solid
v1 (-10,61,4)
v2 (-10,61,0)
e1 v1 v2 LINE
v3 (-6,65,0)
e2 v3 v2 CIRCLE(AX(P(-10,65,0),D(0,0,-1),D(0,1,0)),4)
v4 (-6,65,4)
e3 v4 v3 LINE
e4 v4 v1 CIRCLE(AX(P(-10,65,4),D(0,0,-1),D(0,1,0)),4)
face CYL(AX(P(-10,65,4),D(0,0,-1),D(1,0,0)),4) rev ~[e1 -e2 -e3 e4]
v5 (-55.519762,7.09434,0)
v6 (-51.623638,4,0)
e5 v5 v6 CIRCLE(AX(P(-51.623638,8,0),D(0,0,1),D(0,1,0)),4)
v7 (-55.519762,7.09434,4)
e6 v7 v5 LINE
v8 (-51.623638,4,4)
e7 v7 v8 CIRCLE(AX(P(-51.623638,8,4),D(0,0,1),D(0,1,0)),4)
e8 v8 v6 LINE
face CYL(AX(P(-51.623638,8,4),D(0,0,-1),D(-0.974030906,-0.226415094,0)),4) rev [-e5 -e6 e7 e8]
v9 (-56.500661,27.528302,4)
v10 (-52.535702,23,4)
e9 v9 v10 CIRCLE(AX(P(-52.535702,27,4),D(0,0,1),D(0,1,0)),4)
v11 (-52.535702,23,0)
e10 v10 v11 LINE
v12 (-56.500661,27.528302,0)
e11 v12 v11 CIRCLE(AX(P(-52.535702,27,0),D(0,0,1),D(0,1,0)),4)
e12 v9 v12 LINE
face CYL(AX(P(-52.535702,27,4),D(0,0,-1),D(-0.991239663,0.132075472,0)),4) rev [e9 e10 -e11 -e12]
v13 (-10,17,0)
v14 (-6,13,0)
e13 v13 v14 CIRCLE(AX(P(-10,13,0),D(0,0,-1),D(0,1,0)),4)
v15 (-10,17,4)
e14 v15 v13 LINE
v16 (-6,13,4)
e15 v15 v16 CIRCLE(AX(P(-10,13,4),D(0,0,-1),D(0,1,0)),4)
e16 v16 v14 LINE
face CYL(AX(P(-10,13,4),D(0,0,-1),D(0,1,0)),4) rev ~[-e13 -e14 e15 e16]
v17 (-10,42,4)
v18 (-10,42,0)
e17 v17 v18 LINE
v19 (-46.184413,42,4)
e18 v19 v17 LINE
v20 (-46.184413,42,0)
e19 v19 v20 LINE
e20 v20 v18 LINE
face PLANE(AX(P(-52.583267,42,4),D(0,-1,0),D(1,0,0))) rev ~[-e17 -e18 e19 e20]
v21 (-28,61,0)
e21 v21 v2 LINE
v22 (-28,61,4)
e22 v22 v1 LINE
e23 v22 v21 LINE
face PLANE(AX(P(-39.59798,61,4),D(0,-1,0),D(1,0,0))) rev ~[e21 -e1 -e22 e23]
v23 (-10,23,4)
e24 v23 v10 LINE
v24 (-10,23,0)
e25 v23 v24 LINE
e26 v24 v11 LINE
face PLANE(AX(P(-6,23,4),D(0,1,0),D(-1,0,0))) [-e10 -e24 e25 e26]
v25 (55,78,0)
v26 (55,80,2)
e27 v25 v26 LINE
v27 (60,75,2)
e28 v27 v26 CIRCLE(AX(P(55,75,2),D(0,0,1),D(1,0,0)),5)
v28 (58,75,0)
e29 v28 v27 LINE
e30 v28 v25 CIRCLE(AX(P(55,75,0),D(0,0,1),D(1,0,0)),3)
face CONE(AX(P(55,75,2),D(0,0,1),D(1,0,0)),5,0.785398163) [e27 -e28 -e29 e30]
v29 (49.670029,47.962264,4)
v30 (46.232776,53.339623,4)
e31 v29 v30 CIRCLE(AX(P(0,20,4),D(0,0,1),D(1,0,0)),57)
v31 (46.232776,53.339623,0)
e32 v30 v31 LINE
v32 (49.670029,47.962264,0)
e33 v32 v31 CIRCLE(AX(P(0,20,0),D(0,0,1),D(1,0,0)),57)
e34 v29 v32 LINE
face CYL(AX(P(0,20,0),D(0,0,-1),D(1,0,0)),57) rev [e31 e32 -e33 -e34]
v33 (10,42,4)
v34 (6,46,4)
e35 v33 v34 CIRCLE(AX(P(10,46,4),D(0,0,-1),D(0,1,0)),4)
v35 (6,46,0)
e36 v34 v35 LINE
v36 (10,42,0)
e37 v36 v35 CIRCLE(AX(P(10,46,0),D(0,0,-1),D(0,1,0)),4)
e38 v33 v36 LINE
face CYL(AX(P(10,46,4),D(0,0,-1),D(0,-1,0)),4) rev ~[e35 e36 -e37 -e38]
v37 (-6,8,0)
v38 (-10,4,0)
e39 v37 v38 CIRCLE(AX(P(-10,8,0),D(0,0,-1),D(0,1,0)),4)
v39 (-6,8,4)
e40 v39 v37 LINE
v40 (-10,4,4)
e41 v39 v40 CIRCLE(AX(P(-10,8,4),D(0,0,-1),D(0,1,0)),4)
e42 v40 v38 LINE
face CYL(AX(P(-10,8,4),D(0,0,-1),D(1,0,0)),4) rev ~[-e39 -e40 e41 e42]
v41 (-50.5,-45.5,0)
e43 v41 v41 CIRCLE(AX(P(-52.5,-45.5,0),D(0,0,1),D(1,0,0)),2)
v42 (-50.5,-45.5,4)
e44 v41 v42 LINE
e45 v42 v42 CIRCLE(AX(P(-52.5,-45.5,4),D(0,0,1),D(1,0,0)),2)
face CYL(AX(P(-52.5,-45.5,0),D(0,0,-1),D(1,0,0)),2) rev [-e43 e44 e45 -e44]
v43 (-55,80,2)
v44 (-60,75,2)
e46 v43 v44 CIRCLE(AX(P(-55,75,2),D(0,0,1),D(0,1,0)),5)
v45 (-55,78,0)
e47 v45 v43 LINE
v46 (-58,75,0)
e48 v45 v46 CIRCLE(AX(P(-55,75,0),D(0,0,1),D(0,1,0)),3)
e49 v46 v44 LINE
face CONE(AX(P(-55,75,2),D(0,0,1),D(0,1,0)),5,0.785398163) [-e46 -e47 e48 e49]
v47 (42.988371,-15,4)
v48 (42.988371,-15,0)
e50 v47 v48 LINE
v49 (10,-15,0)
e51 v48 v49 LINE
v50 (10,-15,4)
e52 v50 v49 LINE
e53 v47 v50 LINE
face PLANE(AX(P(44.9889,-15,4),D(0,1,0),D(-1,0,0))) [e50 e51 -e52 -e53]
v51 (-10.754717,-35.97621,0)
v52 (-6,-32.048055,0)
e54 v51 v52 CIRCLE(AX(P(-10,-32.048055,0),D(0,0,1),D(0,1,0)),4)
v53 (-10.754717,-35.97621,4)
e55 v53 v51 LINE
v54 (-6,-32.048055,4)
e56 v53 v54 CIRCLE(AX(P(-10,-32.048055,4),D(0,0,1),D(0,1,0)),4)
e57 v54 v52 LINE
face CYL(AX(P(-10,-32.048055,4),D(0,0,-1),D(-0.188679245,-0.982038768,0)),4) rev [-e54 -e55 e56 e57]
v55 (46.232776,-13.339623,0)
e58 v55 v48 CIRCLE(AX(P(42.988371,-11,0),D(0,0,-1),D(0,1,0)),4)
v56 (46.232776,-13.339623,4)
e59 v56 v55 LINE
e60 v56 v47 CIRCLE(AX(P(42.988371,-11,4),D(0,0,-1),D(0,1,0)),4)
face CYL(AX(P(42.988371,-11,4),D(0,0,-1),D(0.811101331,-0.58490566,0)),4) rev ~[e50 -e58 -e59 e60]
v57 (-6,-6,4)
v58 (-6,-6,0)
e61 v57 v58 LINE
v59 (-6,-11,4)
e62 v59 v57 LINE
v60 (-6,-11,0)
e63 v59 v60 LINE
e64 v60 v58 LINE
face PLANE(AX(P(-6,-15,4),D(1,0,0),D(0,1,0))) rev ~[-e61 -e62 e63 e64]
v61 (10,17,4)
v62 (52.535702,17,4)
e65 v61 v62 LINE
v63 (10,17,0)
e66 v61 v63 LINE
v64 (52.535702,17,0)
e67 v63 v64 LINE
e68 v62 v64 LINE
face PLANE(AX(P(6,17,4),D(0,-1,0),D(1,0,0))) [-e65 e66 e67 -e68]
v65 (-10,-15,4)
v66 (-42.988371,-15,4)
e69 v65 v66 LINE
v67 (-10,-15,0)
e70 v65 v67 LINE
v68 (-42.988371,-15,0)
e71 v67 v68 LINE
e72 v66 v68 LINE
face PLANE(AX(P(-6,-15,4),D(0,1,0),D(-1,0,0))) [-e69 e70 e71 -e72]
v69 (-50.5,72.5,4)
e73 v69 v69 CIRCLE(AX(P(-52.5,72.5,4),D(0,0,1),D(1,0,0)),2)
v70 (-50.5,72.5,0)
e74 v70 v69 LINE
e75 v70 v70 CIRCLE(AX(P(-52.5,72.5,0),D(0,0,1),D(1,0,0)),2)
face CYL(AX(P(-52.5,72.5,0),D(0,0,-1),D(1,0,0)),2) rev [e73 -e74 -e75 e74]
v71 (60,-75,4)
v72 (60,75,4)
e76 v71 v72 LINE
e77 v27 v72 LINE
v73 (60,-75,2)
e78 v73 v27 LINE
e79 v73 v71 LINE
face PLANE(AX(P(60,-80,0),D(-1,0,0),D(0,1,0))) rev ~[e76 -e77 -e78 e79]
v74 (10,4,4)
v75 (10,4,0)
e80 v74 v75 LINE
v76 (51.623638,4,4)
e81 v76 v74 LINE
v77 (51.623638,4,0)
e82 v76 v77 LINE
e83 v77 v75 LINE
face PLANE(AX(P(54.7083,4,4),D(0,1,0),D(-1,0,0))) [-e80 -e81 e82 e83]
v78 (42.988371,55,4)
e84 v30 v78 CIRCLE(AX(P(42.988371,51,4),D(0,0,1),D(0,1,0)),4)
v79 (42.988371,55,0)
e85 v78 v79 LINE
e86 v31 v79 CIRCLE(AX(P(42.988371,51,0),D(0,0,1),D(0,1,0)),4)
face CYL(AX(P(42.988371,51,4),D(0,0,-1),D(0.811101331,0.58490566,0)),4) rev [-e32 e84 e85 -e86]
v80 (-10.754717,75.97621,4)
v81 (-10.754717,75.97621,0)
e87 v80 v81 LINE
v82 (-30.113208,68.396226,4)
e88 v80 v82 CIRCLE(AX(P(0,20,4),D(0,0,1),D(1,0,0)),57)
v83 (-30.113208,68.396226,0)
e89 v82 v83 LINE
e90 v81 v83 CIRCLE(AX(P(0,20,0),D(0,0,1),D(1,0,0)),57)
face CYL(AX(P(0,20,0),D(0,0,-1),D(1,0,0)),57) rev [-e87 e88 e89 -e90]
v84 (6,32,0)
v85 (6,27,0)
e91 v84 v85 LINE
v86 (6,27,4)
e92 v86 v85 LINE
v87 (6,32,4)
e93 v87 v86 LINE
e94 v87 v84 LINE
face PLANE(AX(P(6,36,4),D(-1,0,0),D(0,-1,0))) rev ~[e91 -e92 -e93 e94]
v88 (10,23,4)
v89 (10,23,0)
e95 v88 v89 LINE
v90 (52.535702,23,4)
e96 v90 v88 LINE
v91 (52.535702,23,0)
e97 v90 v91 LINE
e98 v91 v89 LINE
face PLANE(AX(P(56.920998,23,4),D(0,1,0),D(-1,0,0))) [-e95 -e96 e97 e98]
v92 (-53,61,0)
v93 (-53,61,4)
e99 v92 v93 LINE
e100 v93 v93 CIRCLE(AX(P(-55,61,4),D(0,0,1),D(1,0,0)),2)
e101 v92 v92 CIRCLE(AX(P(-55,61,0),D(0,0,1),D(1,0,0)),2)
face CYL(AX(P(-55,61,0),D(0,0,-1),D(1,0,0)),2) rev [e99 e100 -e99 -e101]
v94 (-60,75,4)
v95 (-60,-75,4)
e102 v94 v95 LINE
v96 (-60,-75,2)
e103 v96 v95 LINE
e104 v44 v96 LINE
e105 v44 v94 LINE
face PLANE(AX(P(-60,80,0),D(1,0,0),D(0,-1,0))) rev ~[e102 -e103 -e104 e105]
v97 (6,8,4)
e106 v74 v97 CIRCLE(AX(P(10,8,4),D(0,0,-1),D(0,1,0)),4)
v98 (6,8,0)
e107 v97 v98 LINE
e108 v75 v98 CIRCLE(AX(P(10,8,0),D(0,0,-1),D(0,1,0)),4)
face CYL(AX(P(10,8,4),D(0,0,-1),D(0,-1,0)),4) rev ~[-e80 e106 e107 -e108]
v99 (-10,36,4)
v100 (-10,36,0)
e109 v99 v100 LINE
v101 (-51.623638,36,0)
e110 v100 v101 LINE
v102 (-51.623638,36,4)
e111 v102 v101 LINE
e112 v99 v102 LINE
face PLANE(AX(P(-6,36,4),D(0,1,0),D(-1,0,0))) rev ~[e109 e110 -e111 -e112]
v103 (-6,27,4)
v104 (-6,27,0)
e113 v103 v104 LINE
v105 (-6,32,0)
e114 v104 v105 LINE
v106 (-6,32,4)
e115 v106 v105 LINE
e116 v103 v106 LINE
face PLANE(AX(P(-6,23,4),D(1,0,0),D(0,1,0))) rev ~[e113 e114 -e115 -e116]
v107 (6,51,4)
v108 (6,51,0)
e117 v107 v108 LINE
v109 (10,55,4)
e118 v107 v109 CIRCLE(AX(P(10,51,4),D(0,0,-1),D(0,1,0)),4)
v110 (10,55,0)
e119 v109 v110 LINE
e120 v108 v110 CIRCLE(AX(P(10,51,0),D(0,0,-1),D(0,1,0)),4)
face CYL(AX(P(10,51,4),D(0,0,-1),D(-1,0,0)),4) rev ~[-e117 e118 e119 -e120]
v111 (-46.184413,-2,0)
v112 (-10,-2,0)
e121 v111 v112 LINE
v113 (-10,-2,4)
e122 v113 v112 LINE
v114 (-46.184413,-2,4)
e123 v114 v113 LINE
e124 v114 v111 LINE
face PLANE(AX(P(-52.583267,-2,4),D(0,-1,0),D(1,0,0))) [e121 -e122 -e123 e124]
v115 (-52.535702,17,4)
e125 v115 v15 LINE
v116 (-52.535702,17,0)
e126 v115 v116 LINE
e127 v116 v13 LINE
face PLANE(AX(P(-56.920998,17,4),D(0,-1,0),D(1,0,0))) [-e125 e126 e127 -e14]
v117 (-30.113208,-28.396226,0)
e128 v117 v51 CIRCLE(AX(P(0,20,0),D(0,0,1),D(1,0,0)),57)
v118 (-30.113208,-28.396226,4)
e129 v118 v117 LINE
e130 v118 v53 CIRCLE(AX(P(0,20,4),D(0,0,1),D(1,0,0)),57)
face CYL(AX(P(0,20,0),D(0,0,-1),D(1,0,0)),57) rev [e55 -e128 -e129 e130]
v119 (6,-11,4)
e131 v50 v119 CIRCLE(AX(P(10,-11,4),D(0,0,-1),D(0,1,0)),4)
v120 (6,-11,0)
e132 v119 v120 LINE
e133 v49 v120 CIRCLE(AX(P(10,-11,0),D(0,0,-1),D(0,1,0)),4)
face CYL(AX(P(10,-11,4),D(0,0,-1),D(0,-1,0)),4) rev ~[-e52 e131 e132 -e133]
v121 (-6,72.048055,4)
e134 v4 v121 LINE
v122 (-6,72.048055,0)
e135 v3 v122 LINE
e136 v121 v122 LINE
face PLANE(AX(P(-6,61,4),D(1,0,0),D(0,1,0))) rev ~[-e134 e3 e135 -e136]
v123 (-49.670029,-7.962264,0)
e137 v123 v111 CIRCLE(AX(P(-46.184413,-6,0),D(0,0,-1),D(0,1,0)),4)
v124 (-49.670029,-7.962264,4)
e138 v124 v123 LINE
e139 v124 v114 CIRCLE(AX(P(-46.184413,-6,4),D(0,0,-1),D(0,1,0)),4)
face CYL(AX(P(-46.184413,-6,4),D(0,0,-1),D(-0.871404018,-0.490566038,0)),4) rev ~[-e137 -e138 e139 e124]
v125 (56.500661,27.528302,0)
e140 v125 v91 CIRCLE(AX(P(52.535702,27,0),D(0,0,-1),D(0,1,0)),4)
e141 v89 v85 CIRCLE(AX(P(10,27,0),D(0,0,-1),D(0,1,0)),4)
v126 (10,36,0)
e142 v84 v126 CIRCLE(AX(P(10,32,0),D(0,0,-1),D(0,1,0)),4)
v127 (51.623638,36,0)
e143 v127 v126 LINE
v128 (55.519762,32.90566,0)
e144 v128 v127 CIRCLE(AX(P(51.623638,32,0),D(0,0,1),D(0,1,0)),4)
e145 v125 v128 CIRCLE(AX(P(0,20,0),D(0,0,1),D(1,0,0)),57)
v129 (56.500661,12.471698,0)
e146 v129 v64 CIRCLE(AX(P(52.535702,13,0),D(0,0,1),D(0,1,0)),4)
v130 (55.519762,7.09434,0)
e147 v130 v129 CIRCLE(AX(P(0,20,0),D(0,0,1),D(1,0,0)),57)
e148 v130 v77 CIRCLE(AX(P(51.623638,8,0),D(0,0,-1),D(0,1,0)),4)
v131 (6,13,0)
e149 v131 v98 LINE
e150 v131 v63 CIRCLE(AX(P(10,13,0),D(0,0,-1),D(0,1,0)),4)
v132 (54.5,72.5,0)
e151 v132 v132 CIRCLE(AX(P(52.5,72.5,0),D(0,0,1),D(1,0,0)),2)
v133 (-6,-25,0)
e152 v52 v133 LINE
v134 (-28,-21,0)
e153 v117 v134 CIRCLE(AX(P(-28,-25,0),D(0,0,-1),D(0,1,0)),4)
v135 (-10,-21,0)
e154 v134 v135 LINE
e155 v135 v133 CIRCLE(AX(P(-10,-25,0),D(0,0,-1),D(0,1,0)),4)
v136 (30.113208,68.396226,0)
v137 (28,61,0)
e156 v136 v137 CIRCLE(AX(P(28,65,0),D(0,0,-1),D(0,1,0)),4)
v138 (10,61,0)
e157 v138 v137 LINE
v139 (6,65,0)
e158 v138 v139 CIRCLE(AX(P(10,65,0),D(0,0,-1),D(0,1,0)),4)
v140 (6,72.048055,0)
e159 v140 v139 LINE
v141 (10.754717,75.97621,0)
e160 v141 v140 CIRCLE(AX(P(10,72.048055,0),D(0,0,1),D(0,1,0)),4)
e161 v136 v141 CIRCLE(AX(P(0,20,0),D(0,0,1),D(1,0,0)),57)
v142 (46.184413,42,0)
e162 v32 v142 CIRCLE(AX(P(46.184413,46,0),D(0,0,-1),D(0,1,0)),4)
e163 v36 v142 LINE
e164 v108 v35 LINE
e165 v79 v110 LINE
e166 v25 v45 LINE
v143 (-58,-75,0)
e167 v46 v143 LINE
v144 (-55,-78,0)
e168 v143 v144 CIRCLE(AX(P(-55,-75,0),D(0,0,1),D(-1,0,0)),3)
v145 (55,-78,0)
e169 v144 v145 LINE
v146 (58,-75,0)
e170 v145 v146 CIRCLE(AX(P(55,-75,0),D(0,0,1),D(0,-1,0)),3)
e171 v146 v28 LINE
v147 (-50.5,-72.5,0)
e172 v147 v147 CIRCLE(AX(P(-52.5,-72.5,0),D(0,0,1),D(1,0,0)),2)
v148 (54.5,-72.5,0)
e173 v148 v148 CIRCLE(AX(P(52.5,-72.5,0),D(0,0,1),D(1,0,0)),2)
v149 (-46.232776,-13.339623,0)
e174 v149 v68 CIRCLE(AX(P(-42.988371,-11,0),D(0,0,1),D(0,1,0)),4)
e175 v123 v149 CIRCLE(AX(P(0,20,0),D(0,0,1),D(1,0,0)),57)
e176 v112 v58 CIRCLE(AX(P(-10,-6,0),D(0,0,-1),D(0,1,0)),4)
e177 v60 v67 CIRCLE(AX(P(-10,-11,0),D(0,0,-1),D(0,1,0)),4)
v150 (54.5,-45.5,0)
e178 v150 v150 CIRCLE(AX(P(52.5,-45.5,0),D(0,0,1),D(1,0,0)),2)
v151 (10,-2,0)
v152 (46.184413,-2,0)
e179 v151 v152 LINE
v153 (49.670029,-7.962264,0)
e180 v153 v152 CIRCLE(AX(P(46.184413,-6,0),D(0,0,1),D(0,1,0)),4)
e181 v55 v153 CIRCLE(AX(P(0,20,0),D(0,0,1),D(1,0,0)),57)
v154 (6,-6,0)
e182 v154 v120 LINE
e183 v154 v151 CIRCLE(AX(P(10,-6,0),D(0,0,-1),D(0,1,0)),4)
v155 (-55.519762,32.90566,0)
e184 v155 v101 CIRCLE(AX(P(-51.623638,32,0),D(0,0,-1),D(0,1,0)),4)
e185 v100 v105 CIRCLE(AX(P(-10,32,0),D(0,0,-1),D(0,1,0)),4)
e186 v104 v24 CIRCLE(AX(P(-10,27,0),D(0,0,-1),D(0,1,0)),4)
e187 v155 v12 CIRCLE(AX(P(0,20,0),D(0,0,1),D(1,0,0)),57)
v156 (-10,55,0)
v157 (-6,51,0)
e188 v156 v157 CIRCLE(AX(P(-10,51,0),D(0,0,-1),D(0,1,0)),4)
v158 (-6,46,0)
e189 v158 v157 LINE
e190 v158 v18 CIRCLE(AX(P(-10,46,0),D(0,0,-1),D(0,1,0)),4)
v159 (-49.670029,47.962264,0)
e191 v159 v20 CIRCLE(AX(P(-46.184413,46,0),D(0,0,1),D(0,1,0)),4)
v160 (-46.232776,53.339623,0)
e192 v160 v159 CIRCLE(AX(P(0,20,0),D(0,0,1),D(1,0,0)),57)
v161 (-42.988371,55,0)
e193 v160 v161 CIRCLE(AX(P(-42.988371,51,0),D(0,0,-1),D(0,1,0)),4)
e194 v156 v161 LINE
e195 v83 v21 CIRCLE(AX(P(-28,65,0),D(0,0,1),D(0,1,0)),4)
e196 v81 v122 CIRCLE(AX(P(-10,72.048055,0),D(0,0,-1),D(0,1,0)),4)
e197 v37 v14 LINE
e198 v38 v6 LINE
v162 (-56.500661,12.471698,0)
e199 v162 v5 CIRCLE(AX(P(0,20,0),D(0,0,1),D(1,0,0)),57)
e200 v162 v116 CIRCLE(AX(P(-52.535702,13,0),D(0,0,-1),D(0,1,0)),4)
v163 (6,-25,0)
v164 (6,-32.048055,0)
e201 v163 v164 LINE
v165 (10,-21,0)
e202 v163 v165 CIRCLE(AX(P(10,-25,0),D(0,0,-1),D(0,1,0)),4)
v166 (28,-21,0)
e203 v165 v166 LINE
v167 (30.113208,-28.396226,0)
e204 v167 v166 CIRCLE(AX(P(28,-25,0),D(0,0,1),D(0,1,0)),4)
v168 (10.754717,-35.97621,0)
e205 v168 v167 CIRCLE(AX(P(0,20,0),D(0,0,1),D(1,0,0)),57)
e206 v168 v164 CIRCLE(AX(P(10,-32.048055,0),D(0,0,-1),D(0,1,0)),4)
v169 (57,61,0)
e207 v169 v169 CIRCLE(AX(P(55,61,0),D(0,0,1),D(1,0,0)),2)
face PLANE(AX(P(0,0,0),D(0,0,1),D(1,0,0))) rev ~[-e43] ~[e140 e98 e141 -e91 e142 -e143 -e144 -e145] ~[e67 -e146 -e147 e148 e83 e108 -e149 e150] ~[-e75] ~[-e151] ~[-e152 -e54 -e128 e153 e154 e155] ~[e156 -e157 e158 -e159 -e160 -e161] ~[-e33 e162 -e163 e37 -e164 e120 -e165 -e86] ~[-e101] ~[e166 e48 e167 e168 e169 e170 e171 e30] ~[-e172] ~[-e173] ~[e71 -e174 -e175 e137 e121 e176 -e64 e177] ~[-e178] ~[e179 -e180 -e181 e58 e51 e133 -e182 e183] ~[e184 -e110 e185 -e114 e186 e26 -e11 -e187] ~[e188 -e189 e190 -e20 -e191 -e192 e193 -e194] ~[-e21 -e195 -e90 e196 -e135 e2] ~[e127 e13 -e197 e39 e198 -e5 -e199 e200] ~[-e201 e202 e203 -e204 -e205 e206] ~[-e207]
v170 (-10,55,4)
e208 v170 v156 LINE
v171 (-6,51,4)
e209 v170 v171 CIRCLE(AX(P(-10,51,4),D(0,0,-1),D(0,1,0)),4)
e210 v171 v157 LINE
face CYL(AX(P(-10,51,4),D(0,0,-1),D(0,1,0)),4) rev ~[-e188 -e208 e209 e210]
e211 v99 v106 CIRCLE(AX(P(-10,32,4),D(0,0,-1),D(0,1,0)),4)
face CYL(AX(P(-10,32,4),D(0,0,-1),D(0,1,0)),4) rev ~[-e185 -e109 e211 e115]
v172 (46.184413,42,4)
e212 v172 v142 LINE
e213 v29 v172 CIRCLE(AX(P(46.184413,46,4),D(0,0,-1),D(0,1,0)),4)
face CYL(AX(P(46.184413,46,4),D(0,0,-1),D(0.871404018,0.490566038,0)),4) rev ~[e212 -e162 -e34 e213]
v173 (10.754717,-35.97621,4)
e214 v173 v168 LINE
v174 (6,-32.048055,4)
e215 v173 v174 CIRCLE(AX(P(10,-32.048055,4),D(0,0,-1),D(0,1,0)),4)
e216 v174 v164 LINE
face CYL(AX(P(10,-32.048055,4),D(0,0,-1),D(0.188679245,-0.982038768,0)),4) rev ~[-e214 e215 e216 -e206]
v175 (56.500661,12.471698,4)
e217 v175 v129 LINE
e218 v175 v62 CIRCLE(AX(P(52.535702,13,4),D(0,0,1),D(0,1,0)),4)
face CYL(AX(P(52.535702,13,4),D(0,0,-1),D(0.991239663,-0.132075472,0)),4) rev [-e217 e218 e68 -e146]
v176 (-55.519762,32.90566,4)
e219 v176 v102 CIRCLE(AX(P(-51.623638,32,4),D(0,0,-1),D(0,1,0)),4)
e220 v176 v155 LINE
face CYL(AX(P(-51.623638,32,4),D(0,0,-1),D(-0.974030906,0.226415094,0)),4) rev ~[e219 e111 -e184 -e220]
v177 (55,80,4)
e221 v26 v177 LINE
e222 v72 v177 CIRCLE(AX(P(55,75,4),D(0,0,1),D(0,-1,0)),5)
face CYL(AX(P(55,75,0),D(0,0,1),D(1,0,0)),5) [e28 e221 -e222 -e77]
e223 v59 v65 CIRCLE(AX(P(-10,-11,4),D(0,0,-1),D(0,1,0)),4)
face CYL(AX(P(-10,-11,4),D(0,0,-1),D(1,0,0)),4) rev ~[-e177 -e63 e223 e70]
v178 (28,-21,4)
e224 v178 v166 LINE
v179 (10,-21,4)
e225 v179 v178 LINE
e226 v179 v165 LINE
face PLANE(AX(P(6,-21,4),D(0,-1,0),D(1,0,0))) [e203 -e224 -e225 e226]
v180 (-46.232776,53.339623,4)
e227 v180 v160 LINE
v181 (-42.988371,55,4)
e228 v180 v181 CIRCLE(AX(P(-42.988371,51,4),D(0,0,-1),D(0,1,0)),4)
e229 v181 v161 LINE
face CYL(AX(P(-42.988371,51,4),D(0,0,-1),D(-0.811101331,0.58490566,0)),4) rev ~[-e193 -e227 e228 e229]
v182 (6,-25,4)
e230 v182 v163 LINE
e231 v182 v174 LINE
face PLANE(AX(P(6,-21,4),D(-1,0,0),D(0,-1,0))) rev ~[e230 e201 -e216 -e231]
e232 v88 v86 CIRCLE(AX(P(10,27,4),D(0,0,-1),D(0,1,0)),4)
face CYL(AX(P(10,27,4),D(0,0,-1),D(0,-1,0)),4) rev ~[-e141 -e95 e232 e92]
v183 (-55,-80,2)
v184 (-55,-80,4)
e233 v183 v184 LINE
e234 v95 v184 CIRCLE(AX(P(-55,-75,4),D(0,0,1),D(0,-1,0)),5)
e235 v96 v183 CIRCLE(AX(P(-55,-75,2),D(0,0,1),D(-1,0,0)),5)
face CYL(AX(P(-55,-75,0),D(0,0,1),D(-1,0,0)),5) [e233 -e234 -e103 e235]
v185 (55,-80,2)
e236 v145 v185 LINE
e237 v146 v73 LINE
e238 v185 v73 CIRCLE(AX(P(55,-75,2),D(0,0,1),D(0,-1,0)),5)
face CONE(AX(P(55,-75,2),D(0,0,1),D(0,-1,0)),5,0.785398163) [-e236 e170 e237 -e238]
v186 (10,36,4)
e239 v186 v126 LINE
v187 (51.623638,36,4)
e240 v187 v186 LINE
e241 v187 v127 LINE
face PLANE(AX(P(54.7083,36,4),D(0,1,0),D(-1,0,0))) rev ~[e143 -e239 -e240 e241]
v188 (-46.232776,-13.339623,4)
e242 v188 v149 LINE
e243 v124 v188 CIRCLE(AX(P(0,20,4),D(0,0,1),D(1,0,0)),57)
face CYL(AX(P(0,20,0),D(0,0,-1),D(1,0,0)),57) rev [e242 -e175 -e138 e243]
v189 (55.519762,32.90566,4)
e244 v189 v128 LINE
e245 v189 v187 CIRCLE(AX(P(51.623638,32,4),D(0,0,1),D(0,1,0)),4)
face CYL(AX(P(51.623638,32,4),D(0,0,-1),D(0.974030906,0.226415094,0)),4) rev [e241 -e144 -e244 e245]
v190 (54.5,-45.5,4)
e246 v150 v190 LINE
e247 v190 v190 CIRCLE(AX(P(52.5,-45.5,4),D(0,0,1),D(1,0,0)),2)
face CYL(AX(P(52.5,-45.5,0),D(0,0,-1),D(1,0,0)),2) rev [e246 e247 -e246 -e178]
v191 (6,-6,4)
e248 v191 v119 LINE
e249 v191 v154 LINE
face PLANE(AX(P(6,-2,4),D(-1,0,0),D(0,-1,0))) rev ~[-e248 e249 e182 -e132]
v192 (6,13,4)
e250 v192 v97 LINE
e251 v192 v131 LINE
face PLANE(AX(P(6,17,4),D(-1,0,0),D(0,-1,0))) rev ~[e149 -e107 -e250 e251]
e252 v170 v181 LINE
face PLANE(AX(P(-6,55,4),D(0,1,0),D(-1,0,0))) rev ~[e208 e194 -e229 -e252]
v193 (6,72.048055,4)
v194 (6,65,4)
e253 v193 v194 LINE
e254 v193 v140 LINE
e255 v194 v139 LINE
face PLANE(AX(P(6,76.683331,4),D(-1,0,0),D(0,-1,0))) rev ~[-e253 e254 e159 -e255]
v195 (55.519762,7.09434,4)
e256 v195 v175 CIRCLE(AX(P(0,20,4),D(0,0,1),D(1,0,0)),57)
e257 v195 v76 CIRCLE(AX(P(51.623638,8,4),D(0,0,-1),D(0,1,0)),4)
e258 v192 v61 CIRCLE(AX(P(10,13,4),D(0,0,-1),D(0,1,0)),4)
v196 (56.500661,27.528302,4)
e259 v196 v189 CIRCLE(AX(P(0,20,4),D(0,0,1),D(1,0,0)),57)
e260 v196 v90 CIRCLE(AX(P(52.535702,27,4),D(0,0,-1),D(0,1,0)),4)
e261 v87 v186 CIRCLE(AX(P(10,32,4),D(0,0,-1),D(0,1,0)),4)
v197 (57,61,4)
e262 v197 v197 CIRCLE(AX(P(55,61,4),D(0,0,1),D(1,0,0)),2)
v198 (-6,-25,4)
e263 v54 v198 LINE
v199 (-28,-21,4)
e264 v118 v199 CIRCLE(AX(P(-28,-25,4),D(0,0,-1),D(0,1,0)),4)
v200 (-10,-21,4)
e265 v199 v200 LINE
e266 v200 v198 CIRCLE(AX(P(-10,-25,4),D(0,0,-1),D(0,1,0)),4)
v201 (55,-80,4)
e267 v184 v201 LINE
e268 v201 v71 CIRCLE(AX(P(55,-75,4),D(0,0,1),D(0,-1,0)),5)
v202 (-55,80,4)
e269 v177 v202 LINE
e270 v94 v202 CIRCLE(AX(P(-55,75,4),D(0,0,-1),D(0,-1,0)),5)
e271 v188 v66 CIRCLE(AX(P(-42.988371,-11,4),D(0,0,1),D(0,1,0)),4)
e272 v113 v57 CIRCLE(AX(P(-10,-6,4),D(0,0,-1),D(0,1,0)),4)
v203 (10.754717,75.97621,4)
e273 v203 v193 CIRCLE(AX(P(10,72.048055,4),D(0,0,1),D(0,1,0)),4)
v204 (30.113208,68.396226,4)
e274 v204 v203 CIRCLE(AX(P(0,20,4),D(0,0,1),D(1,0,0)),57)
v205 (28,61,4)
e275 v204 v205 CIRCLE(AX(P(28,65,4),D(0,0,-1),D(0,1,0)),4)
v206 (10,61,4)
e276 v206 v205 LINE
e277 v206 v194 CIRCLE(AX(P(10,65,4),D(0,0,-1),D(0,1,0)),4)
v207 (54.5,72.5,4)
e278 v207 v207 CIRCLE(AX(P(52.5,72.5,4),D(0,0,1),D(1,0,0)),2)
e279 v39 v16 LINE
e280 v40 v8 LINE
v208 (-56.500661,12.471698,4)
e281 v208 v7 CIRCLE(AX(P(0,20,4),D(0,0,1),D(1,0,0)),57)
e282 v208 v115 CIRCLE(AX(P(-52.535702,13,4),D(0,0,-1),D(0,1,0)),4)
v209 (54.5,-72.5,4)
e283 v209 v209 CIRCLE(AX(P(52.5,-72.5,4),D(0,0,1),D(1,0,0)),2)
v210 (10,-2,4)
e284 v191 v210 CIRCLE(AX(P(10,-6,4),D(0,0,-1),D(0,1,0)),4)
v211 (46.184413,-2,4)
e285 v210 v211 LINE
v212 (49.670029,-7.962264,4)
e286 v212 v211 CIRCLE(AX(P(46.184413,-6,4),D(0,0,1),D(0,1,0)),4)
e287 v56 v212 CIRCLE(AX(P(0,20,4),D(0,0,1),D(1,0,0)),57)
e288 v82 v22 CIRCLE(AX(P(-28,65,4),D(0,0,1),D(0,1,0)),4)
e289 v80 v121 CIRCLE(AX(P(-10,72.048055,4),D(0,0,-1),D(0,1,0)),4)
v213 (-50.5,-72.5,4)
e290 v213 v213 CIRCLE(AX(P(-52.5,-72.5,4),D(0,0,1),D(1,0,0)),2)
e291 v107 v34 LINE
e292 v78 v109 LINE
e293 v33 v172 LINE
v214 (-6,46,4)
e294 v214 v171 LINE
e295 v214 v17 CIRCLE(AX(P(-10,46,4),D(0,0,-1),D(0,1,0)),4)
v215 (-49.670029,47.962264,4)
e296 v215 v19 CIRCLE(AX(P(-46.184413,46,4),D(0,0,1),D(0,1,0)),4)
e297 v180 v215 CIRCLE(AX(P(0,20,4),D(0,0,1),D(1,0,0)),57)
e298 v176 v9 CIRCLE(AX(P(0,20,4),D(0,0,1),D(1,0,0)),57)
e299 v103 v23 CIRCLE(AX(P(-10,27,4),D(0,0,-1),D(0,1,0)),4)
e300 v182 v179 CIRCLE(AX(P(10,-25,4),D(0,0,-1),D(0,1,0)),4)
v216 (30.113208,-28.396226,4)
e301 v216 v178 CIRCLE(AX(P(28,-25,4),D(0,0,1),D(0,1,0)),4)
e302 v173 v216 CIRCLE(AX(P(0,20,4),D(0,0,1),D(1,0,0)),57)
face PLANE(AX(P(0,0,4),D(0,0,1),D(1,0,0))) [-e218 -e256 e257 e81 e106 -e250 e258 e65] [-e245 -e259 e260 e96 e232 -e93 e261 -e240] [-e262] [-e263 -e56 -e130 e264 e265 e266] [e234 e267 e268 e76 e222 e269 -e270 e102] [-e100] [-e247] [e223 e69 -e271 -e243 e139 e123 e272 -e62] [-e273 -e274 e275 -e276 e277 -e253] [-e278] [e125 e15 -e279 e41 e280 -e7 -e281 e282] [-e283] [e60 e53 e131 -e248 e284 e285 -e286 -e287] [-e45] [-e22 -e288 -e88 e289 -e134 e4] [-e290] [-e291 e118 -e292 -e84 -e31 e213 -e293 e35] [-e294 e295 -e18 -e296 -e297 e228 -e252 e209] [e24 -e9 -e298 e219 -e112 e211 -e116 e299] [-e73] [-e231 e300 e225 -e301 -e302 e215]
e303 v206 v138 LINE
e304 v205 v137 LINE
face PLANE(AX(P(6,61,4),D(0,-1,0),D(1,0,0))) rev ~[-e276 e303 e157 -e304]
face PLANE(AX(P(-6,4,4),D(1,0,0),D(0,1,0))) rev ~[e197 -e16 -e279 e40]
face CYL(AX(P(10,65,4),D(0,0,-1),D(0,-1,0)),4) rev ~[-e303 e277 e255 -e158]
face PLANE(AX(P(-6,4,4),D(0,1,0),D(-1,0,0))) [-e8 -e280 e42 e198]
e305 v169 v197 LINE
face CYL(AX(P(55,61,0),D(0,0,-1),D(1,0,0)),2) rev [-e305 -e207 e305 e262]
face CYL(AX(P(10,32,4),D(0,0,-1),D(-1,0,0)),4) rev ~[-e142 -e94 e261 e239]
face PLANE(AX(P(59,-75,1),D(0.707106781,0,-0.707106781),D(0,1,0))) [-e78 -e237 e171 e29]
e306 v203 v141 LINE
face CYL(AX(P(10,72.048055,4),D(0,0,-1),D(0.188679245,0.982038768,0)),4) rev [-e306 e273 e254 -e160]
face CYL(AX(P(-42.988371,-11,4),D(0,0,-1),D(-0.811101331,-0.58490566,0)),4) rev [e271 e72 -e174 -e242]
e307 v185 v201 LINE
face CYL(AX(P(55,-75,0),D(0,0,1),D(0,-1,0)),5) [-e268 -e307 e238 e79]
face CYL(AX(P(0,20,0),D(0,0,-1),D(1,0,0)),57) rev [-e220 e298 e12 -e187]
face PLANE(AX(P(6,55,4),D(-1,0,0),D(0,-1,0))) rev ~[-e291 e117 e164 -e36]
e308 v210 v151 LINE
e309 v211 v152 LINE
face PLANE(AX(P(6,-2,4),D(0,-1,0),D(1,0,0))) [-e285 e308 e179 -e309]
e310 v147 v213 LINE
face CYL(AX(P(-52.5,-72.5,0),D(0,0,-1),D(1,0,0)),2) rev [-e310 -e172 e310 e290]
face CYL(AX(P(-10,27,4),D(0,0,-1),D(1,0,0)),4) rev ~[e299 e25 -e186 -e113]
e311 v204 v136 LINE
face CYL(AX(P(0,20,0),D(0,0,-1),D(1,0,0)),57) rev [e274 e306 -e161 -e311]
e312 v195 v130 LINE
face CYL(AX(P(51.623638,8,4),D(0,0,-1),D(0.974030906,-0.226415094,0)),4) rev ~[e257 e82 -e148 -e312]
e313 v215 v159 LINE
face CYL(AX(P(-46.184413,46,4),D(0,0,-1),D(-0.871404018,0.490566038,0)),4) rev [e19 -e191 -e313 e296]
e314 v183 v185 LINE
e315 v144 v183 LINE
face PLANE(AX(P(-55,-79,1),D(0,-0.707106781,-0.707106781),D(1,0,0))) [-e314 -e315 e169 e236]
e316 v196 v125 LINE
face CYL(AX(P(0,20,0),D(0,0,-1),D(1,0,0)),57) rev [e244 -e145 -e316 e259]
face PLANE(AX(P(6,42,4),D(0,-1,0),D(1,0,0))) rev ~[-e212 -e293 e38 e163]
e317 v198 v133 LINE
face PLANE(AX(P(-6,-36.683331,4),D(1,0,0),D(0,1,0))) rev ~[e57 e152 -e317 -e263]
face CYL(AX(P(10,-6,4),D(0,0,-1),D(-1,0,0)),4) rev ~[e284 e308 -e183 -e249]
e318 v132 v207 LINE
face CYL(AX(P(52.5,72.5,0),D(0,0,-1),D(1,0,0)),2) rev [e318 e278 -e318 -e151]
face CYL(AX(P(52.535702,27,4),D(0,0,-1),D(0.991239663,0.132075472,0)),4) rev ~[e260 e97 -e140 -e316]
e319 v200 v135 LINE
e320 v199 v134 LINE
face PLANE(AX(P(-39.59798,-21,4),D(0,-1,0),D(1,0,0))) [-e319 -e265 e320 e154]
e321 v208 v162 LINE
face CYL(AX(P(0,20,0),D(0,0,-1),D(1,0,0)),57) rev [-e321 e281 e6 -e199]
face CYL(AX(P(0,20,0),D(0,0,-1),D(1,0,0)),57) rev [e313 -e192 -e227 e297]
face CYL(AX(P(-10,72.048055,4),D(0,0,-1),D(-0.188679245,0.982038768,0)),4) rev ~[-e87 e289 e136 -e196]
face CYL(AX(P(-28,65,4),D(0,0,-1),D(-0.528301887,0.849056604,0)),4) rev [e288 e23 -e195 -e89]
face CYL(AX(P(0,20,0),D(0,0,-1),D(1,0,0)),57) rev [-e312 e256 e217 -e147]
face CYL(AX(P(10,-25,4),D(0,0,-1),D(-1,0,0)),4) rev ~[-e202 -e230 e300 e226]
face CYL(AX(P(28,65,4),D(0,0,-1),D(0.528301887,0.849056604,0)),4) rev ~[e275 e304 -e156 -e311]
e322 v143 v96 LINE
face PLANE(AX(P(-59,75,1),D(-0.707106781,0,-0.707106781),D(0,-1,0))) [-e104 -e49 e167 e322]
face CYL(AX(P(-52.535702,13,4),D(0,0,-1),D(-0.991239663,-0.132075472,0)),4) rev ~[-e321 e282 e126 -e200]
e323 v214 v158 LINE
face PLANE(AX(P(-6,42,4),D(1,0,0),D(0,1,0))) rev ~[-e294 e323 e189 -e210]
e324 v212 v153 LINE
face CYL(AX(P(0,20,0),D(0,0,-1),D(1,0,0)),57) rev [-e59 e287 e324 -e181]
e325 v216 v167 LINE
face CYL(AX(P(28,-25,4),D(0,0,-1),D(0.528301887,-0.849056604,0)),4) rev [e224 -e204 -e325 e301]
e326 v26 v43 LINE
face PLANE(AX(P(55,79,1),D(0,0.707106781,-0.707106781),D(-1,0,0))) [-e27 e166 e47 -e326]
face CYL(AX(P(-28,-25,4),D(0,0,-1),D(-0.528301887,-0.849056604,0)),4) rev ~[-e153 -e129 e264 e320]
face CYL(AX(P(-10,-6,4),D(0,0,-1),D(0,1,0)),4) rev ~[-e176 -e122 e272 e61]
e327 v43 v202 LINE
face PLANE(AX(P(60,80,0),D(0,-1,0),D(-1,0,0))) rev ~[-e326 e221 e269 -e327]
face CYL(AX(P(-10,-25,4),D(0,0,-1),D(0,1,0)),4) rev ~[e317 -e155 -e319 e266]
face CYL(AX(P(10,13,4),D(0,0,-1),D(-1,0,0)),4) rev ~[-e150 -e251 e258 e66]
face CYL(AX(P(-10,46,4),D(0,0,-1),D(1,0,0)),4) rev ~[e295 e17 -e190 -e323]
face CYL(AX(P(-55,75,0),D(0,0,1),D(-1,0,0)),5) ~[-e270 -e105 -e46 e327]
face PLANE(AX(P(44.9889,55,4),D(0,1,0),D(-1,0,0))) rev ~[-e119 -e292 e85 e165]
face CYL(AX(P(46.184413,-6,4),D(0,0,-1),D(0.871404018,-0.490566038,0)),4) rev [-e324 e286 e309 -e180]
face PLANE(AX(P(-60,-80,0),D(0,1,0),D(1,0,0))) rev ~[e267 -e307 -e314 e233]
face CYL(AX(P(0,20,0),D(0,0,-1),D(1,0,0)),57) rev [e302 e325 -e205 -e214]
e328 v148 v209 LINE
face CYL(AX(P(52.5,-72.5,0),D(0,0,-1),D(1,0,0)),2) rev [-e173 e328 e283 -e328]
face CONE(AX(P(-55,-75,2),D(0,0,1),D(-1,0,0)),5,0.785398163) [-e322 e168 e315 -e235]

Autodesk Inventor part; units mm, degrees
ref_plane "YZ Plane" through (0, 0, 0) normal (1, 0, 0) x (0, 1, 0)
ref_plane "XZ Plane" through (0, 0, 0) normal (0, 1, 0) x (-1, 0, 0)
ref_plane "XY Plane" through (0, 0, 0) normal (0, 0, 1) x (1, 0, 0)
sketch "Sketch1" plane through (0, 0, 0) normal (0, 0, 1) x (1, 0, 0)
  line L0 (-60, -80) -> (60, -80)
  line L1 (60, -80) -> (60, 80)
  line L2 (60, 80) -> (-60, 80)
  line L3 (-60, 80) -> (-60, -80)
  line L4 (-60, -80) -> (60, 80) construction
  line L5 (60, -80) -> (-60, 80) construction
  line L6 (0, 80) -> (0, -80) construction
  line L7 (-52.5, 72.5) -> (52.5, 72.5) construction
  line L8 (52.5, 72.5) -> (52.5, -32.5) construction
  line L9 (52.5, -32.5) -> (-52.5, -32.5) construction
  line L10 (-52.5, -32.5) -> (-52.5, 72.5) construction
  line L11 (-52.5, 72.5) -> (52.5, -32.5) construction
  line L12 (52.5, 72.5) -> (-52.5, -32.5) construction
  circle A0 centre (-52.5, 72.5) radius 2
  circle A1 centre (52.5, 72.5) radius 2
  circle A2 centre (-52.5, -32.5) radius 2
  circle A3 centre (52.5, -32.5) radius 2
  circle A4 centre (-52.5, -72.5) radius 2
  circle A5 centre (52.5, -72.5) radius 2
  circle A6 centre (0, 20) radius 57
  circle A7 centre (52.5, -45.5) radius 2
  circle A8 centre (-52.5, -45.5) radius 2
  circle A9 centre (55, 61) radius 2
  circle A10 centre (-55, 61) radius 2
  point P0 (0, 0)
  point P1 (0, 20)
  dimension "d0" = 120
  dimension "d1" = 160
  dimension "d2" = 105
  dimension "d4" = 7.5
  dimension "d5" = 4
  dimension "d8" = 105
  dimension "d11" = 105
  dimension "d16" = 40
  dimension "d21" = 114
  dimension "d82" = 13
  dimension "d122" = 47.5
  dimension "d130" = 19
  dimension "d131" = 5
  dimension "d132" = 4
extrude "Extrusion1" add sketch "Sketch1" along normal blind 4 contours L3 L2 L1 L0 | A2 | A3
sketch "Sketch2" plane through (0, 0, 4) normal (0, 0, 1) x (1, 0, 0)
  line L0 (60, -80) -> (60, 80) projected
  line L1 (60, 80) -> (-60, 80) projected
  line L2 (-60, 80) -> (-60, -80) projected
  line L3 (-60, -80) -> (60, -80) projected
  circle A0 centre (-52.5, -72.5) radius 2 projected
  circle A1 centre (52.5, -72.5) radius 2 projected
  circle A2 centre (0, 20) radius 57 projected
  circle A3 centre (52.5, 72.5) radius 2 projected
  circle A4 centre (-52.5, 72.5) radius 2 projected
  line L4 (0, 73.4838) -> (0, -23.4838) construction
  line L5 (-6, 77) -> (6, 77) construction
  line L6 (6, 77) -> (6, -37)
  line L7 (6, -37) -> (-6, -37) construction
  line L8 (-6, -37) -> (-6, 77)
  line L9 (-6, 77) -> (6, -37) construction
  line L10 (6, 77) -> (-6, -37) construction
  circle A5 centre (0, 20) radius 57 projected
  line L11 (-44.9889, 61) -> (44.9889, 61)
  line L12 (44.9889, 61) -> (44.9889, 55)
  line L13 (44.9889, 55) -> (-44.9889, 55)
  line L14 (-44.9889, 55) -> (-44.9889, 61)
  line L15 (-44.9889, 61) -> (44.9889, 55) construction
  line L16 (44.9889, 61) -> (-44.9889, 55) construction
  line L17 (-57, 17) -> (57, 17)
  line L18 (57, 17) -> (57, 23)
  line L19 (57, 23) -> (-57, 23)
  line L20 (-57, 23) -> (-57, 17)
  line L21 (-57, 17) -> (57, 23) construction
  line L22 (57, 17) -> (-57, 23) construction
  line L23 (-54.7083, 42) -> (54.7083, 42)
  line L24 (54.7083, 42) -> (54.7083, 36)
  line L25 (54.7083, 36) -> (-54.7083, 36)
  line L26 (-54.7083, 36) -> (-54.7083, 42)
  line L27 (-54.7083, 42) -> (54.7083, 36) construction
  line L28 (54.7083, 42) -> (-54.7083, 36) construction
  line L29 (-57, 20) -> (57, 20) construction
  line L30 (-44.9889, -21) -> (44.9889, -21)
  line L31 (44.9889, -21) -> (44.9889, -15)
  line L32 (44.9889, -15) -> (-44.9889, -15)
  line L33 (-44.9889, -15) -> (-44.9889, -21)
  line L34 (-44.9889, -21) -> (44.9889, -15) construction
  line L35 (44.9889, -21) -> (-44.9889, -15) construction
  line L36 (-54.7083, -2) -> (54.7083, -2)
  line L37 (54.7083, -2) -> (54.7083, 4)
  line L38 (54.7083, 4) -> (-54.7083, 4)
  line L39 (-54.7083, 4) -> (-54.7083, -2)
  line L40 (-54.7083, -2) -> (54.7083, 4) construction
  line L41 (54.7083, -2) -> (-54.7083, 4) construction
  point P0 (0, 58)
  point P1 (0, 39)
  point P2 (0, -18)
  point P3 (0, 1)
  point P4 (6, 61)
  point P5 (6, 76.6833)
  point P6 (-6, 76.6833)
  point P7 (-6, 61)
  point P8 (-39.598, 61)
  point P9 (-44.9889, 55)
  point P10 (-6, 55)
  point P11 (-6, 42)
  point P12 (-52.5833, 42)
  point P13 (-6, 36)
  point P14 (-6, 23)
  point P15 (-56.921, 23)
  point P16 (-56.921, 17)
  point P17 (-6, 17)
  point P18 (-6, 4)
  point P19 (-54.7083, 4)
  point P20 (-52.5833, -2)
  point P21 (-6, -2)
  point P22 (-6, -15)
  point P23 (-44.9889, -15)
  point P24 (-39.598, -21)
  point P25 (-6, -21)
  point P26 (-6, -36.6833)
  point P27 (6, -36.6833)
  point P28 (6, -21)
  point P29 (39.598, -21)
  point P30 (44.9889, -15)
  point P31 (6, -15)
  point P32 (6, -2)
  point P33 (52.5833, -2)
  point P34 (54.7083, 4)
  point P35 (6, 4)
  point P36 (6, 17)
  point P37 (56.921, 17)
  point P38 (56.921, 23)
  point P39 (6, 23)
  point P40 (6, 36)
  point P41 (54.7083, 36)
  point P42 (52.5833, 42)
  point P43 (6, 42)
  point P44 (6, 55)
  point P45 (44.9889, 55)
  point P46 (39.598, 61)
  dimension "d106" = 12
  dimension "d108" = 6
  dimension "d110" = 35
  dimension "d111" = 6
  dimension "d112" = 6
  dimension "d113" = 13
extrude "Extrusion2" add sketch "Sketch2" against normal up to surface (4 mm away) contours A2 L17 L6 L19 | L25 L6 L23 A2 | L19 L8 L25 L6 | L6 L17 L8 L19 | A2 L36 L6 L38 | L6 L38 L8 L17 | L25 L8 L23 L6 | L8 L17 A2 L19 | L6 L36 L8 L38 | L13 L6 L11 A2 | L23 L8 L13 L6 | L25 A2 L23 L8 | A2 L30 L6 L32 | L6 L32 L8 L36 | L8 L36 A2 L38 | L13 L8 L11 L6 | L6 L30 L8 L32 | L6 L11 L8 A2 | L13 A2 L11 L8 | A2 L8 L30 L6 | L8 L30 A2 L32
fillet "Fillet4" radius 4 44 edges at (-44.9889, -15, 2) (44.9889, -15, 2) (-39.598, -21, 2) (39.598, -21, 2) (6, 76.6833, 2) (6, -36.6833, 2) (6, -21, 2) (6, -15, 2) (-6, -15, 2) (-6, 76.6833, 2) (-6, -36.6833, 2) (-6, -21, 2) (-52.5833, -2, 2) (52.5833, -2, 2) (-6, -2, 2) (6, -2, 2) (-54.7083, 4, 2) (54.7083, 4, 2) (6, 4, 2) (-6, 4, 2) (-56.921, 17, 2) (56.921, 17, 2) (56.921, 23, 2) (-56.921, 23, 2) (-6, 23, 2) (-6, 17, 2) (6, 17, 2) (6, 23, 2) (54.7083, 36, 2) (-54.7083, 36, 2) (6, 36, 2) (-6, 36, 2) (52.5833, 42, 2) (-52.5833, 42, 2) (-6, 42, 2) (-6, 55, 2) (44.9889, 55, 2) (-44.9889, 55, 2) (39.598, 61, 2) (-39.598, 61, 2) (-6, 61, 2) (6, 61, 2) (6, 55, 2) (6, 42, 2)
fillet "Fillet1" radius 5 4 edges at (60, 80, 2) (-60, -80, 2) (-60, 80, 2) (60, -80, 2)
chamfer "Chamfer2" distance 2 angle 45 8 edges at (60, 0, 0) (58.5355, 78.5355, 0) (0, 80, 0) (-58.5355, 78.5355, 0) (-60, 0, 0) (-58.5355, -78.5355, 0) (0, -80, 0) (58.5355, -78.5355, 0)
equation "\"d8\" = d3"
equation "\"d11\" = d2"
equation "\"d111\" = d108"
equation "\"d112\" = d108"
equation "\"d3\" = 105"
properties part number "Face Plate" material "UHMW, Black"
